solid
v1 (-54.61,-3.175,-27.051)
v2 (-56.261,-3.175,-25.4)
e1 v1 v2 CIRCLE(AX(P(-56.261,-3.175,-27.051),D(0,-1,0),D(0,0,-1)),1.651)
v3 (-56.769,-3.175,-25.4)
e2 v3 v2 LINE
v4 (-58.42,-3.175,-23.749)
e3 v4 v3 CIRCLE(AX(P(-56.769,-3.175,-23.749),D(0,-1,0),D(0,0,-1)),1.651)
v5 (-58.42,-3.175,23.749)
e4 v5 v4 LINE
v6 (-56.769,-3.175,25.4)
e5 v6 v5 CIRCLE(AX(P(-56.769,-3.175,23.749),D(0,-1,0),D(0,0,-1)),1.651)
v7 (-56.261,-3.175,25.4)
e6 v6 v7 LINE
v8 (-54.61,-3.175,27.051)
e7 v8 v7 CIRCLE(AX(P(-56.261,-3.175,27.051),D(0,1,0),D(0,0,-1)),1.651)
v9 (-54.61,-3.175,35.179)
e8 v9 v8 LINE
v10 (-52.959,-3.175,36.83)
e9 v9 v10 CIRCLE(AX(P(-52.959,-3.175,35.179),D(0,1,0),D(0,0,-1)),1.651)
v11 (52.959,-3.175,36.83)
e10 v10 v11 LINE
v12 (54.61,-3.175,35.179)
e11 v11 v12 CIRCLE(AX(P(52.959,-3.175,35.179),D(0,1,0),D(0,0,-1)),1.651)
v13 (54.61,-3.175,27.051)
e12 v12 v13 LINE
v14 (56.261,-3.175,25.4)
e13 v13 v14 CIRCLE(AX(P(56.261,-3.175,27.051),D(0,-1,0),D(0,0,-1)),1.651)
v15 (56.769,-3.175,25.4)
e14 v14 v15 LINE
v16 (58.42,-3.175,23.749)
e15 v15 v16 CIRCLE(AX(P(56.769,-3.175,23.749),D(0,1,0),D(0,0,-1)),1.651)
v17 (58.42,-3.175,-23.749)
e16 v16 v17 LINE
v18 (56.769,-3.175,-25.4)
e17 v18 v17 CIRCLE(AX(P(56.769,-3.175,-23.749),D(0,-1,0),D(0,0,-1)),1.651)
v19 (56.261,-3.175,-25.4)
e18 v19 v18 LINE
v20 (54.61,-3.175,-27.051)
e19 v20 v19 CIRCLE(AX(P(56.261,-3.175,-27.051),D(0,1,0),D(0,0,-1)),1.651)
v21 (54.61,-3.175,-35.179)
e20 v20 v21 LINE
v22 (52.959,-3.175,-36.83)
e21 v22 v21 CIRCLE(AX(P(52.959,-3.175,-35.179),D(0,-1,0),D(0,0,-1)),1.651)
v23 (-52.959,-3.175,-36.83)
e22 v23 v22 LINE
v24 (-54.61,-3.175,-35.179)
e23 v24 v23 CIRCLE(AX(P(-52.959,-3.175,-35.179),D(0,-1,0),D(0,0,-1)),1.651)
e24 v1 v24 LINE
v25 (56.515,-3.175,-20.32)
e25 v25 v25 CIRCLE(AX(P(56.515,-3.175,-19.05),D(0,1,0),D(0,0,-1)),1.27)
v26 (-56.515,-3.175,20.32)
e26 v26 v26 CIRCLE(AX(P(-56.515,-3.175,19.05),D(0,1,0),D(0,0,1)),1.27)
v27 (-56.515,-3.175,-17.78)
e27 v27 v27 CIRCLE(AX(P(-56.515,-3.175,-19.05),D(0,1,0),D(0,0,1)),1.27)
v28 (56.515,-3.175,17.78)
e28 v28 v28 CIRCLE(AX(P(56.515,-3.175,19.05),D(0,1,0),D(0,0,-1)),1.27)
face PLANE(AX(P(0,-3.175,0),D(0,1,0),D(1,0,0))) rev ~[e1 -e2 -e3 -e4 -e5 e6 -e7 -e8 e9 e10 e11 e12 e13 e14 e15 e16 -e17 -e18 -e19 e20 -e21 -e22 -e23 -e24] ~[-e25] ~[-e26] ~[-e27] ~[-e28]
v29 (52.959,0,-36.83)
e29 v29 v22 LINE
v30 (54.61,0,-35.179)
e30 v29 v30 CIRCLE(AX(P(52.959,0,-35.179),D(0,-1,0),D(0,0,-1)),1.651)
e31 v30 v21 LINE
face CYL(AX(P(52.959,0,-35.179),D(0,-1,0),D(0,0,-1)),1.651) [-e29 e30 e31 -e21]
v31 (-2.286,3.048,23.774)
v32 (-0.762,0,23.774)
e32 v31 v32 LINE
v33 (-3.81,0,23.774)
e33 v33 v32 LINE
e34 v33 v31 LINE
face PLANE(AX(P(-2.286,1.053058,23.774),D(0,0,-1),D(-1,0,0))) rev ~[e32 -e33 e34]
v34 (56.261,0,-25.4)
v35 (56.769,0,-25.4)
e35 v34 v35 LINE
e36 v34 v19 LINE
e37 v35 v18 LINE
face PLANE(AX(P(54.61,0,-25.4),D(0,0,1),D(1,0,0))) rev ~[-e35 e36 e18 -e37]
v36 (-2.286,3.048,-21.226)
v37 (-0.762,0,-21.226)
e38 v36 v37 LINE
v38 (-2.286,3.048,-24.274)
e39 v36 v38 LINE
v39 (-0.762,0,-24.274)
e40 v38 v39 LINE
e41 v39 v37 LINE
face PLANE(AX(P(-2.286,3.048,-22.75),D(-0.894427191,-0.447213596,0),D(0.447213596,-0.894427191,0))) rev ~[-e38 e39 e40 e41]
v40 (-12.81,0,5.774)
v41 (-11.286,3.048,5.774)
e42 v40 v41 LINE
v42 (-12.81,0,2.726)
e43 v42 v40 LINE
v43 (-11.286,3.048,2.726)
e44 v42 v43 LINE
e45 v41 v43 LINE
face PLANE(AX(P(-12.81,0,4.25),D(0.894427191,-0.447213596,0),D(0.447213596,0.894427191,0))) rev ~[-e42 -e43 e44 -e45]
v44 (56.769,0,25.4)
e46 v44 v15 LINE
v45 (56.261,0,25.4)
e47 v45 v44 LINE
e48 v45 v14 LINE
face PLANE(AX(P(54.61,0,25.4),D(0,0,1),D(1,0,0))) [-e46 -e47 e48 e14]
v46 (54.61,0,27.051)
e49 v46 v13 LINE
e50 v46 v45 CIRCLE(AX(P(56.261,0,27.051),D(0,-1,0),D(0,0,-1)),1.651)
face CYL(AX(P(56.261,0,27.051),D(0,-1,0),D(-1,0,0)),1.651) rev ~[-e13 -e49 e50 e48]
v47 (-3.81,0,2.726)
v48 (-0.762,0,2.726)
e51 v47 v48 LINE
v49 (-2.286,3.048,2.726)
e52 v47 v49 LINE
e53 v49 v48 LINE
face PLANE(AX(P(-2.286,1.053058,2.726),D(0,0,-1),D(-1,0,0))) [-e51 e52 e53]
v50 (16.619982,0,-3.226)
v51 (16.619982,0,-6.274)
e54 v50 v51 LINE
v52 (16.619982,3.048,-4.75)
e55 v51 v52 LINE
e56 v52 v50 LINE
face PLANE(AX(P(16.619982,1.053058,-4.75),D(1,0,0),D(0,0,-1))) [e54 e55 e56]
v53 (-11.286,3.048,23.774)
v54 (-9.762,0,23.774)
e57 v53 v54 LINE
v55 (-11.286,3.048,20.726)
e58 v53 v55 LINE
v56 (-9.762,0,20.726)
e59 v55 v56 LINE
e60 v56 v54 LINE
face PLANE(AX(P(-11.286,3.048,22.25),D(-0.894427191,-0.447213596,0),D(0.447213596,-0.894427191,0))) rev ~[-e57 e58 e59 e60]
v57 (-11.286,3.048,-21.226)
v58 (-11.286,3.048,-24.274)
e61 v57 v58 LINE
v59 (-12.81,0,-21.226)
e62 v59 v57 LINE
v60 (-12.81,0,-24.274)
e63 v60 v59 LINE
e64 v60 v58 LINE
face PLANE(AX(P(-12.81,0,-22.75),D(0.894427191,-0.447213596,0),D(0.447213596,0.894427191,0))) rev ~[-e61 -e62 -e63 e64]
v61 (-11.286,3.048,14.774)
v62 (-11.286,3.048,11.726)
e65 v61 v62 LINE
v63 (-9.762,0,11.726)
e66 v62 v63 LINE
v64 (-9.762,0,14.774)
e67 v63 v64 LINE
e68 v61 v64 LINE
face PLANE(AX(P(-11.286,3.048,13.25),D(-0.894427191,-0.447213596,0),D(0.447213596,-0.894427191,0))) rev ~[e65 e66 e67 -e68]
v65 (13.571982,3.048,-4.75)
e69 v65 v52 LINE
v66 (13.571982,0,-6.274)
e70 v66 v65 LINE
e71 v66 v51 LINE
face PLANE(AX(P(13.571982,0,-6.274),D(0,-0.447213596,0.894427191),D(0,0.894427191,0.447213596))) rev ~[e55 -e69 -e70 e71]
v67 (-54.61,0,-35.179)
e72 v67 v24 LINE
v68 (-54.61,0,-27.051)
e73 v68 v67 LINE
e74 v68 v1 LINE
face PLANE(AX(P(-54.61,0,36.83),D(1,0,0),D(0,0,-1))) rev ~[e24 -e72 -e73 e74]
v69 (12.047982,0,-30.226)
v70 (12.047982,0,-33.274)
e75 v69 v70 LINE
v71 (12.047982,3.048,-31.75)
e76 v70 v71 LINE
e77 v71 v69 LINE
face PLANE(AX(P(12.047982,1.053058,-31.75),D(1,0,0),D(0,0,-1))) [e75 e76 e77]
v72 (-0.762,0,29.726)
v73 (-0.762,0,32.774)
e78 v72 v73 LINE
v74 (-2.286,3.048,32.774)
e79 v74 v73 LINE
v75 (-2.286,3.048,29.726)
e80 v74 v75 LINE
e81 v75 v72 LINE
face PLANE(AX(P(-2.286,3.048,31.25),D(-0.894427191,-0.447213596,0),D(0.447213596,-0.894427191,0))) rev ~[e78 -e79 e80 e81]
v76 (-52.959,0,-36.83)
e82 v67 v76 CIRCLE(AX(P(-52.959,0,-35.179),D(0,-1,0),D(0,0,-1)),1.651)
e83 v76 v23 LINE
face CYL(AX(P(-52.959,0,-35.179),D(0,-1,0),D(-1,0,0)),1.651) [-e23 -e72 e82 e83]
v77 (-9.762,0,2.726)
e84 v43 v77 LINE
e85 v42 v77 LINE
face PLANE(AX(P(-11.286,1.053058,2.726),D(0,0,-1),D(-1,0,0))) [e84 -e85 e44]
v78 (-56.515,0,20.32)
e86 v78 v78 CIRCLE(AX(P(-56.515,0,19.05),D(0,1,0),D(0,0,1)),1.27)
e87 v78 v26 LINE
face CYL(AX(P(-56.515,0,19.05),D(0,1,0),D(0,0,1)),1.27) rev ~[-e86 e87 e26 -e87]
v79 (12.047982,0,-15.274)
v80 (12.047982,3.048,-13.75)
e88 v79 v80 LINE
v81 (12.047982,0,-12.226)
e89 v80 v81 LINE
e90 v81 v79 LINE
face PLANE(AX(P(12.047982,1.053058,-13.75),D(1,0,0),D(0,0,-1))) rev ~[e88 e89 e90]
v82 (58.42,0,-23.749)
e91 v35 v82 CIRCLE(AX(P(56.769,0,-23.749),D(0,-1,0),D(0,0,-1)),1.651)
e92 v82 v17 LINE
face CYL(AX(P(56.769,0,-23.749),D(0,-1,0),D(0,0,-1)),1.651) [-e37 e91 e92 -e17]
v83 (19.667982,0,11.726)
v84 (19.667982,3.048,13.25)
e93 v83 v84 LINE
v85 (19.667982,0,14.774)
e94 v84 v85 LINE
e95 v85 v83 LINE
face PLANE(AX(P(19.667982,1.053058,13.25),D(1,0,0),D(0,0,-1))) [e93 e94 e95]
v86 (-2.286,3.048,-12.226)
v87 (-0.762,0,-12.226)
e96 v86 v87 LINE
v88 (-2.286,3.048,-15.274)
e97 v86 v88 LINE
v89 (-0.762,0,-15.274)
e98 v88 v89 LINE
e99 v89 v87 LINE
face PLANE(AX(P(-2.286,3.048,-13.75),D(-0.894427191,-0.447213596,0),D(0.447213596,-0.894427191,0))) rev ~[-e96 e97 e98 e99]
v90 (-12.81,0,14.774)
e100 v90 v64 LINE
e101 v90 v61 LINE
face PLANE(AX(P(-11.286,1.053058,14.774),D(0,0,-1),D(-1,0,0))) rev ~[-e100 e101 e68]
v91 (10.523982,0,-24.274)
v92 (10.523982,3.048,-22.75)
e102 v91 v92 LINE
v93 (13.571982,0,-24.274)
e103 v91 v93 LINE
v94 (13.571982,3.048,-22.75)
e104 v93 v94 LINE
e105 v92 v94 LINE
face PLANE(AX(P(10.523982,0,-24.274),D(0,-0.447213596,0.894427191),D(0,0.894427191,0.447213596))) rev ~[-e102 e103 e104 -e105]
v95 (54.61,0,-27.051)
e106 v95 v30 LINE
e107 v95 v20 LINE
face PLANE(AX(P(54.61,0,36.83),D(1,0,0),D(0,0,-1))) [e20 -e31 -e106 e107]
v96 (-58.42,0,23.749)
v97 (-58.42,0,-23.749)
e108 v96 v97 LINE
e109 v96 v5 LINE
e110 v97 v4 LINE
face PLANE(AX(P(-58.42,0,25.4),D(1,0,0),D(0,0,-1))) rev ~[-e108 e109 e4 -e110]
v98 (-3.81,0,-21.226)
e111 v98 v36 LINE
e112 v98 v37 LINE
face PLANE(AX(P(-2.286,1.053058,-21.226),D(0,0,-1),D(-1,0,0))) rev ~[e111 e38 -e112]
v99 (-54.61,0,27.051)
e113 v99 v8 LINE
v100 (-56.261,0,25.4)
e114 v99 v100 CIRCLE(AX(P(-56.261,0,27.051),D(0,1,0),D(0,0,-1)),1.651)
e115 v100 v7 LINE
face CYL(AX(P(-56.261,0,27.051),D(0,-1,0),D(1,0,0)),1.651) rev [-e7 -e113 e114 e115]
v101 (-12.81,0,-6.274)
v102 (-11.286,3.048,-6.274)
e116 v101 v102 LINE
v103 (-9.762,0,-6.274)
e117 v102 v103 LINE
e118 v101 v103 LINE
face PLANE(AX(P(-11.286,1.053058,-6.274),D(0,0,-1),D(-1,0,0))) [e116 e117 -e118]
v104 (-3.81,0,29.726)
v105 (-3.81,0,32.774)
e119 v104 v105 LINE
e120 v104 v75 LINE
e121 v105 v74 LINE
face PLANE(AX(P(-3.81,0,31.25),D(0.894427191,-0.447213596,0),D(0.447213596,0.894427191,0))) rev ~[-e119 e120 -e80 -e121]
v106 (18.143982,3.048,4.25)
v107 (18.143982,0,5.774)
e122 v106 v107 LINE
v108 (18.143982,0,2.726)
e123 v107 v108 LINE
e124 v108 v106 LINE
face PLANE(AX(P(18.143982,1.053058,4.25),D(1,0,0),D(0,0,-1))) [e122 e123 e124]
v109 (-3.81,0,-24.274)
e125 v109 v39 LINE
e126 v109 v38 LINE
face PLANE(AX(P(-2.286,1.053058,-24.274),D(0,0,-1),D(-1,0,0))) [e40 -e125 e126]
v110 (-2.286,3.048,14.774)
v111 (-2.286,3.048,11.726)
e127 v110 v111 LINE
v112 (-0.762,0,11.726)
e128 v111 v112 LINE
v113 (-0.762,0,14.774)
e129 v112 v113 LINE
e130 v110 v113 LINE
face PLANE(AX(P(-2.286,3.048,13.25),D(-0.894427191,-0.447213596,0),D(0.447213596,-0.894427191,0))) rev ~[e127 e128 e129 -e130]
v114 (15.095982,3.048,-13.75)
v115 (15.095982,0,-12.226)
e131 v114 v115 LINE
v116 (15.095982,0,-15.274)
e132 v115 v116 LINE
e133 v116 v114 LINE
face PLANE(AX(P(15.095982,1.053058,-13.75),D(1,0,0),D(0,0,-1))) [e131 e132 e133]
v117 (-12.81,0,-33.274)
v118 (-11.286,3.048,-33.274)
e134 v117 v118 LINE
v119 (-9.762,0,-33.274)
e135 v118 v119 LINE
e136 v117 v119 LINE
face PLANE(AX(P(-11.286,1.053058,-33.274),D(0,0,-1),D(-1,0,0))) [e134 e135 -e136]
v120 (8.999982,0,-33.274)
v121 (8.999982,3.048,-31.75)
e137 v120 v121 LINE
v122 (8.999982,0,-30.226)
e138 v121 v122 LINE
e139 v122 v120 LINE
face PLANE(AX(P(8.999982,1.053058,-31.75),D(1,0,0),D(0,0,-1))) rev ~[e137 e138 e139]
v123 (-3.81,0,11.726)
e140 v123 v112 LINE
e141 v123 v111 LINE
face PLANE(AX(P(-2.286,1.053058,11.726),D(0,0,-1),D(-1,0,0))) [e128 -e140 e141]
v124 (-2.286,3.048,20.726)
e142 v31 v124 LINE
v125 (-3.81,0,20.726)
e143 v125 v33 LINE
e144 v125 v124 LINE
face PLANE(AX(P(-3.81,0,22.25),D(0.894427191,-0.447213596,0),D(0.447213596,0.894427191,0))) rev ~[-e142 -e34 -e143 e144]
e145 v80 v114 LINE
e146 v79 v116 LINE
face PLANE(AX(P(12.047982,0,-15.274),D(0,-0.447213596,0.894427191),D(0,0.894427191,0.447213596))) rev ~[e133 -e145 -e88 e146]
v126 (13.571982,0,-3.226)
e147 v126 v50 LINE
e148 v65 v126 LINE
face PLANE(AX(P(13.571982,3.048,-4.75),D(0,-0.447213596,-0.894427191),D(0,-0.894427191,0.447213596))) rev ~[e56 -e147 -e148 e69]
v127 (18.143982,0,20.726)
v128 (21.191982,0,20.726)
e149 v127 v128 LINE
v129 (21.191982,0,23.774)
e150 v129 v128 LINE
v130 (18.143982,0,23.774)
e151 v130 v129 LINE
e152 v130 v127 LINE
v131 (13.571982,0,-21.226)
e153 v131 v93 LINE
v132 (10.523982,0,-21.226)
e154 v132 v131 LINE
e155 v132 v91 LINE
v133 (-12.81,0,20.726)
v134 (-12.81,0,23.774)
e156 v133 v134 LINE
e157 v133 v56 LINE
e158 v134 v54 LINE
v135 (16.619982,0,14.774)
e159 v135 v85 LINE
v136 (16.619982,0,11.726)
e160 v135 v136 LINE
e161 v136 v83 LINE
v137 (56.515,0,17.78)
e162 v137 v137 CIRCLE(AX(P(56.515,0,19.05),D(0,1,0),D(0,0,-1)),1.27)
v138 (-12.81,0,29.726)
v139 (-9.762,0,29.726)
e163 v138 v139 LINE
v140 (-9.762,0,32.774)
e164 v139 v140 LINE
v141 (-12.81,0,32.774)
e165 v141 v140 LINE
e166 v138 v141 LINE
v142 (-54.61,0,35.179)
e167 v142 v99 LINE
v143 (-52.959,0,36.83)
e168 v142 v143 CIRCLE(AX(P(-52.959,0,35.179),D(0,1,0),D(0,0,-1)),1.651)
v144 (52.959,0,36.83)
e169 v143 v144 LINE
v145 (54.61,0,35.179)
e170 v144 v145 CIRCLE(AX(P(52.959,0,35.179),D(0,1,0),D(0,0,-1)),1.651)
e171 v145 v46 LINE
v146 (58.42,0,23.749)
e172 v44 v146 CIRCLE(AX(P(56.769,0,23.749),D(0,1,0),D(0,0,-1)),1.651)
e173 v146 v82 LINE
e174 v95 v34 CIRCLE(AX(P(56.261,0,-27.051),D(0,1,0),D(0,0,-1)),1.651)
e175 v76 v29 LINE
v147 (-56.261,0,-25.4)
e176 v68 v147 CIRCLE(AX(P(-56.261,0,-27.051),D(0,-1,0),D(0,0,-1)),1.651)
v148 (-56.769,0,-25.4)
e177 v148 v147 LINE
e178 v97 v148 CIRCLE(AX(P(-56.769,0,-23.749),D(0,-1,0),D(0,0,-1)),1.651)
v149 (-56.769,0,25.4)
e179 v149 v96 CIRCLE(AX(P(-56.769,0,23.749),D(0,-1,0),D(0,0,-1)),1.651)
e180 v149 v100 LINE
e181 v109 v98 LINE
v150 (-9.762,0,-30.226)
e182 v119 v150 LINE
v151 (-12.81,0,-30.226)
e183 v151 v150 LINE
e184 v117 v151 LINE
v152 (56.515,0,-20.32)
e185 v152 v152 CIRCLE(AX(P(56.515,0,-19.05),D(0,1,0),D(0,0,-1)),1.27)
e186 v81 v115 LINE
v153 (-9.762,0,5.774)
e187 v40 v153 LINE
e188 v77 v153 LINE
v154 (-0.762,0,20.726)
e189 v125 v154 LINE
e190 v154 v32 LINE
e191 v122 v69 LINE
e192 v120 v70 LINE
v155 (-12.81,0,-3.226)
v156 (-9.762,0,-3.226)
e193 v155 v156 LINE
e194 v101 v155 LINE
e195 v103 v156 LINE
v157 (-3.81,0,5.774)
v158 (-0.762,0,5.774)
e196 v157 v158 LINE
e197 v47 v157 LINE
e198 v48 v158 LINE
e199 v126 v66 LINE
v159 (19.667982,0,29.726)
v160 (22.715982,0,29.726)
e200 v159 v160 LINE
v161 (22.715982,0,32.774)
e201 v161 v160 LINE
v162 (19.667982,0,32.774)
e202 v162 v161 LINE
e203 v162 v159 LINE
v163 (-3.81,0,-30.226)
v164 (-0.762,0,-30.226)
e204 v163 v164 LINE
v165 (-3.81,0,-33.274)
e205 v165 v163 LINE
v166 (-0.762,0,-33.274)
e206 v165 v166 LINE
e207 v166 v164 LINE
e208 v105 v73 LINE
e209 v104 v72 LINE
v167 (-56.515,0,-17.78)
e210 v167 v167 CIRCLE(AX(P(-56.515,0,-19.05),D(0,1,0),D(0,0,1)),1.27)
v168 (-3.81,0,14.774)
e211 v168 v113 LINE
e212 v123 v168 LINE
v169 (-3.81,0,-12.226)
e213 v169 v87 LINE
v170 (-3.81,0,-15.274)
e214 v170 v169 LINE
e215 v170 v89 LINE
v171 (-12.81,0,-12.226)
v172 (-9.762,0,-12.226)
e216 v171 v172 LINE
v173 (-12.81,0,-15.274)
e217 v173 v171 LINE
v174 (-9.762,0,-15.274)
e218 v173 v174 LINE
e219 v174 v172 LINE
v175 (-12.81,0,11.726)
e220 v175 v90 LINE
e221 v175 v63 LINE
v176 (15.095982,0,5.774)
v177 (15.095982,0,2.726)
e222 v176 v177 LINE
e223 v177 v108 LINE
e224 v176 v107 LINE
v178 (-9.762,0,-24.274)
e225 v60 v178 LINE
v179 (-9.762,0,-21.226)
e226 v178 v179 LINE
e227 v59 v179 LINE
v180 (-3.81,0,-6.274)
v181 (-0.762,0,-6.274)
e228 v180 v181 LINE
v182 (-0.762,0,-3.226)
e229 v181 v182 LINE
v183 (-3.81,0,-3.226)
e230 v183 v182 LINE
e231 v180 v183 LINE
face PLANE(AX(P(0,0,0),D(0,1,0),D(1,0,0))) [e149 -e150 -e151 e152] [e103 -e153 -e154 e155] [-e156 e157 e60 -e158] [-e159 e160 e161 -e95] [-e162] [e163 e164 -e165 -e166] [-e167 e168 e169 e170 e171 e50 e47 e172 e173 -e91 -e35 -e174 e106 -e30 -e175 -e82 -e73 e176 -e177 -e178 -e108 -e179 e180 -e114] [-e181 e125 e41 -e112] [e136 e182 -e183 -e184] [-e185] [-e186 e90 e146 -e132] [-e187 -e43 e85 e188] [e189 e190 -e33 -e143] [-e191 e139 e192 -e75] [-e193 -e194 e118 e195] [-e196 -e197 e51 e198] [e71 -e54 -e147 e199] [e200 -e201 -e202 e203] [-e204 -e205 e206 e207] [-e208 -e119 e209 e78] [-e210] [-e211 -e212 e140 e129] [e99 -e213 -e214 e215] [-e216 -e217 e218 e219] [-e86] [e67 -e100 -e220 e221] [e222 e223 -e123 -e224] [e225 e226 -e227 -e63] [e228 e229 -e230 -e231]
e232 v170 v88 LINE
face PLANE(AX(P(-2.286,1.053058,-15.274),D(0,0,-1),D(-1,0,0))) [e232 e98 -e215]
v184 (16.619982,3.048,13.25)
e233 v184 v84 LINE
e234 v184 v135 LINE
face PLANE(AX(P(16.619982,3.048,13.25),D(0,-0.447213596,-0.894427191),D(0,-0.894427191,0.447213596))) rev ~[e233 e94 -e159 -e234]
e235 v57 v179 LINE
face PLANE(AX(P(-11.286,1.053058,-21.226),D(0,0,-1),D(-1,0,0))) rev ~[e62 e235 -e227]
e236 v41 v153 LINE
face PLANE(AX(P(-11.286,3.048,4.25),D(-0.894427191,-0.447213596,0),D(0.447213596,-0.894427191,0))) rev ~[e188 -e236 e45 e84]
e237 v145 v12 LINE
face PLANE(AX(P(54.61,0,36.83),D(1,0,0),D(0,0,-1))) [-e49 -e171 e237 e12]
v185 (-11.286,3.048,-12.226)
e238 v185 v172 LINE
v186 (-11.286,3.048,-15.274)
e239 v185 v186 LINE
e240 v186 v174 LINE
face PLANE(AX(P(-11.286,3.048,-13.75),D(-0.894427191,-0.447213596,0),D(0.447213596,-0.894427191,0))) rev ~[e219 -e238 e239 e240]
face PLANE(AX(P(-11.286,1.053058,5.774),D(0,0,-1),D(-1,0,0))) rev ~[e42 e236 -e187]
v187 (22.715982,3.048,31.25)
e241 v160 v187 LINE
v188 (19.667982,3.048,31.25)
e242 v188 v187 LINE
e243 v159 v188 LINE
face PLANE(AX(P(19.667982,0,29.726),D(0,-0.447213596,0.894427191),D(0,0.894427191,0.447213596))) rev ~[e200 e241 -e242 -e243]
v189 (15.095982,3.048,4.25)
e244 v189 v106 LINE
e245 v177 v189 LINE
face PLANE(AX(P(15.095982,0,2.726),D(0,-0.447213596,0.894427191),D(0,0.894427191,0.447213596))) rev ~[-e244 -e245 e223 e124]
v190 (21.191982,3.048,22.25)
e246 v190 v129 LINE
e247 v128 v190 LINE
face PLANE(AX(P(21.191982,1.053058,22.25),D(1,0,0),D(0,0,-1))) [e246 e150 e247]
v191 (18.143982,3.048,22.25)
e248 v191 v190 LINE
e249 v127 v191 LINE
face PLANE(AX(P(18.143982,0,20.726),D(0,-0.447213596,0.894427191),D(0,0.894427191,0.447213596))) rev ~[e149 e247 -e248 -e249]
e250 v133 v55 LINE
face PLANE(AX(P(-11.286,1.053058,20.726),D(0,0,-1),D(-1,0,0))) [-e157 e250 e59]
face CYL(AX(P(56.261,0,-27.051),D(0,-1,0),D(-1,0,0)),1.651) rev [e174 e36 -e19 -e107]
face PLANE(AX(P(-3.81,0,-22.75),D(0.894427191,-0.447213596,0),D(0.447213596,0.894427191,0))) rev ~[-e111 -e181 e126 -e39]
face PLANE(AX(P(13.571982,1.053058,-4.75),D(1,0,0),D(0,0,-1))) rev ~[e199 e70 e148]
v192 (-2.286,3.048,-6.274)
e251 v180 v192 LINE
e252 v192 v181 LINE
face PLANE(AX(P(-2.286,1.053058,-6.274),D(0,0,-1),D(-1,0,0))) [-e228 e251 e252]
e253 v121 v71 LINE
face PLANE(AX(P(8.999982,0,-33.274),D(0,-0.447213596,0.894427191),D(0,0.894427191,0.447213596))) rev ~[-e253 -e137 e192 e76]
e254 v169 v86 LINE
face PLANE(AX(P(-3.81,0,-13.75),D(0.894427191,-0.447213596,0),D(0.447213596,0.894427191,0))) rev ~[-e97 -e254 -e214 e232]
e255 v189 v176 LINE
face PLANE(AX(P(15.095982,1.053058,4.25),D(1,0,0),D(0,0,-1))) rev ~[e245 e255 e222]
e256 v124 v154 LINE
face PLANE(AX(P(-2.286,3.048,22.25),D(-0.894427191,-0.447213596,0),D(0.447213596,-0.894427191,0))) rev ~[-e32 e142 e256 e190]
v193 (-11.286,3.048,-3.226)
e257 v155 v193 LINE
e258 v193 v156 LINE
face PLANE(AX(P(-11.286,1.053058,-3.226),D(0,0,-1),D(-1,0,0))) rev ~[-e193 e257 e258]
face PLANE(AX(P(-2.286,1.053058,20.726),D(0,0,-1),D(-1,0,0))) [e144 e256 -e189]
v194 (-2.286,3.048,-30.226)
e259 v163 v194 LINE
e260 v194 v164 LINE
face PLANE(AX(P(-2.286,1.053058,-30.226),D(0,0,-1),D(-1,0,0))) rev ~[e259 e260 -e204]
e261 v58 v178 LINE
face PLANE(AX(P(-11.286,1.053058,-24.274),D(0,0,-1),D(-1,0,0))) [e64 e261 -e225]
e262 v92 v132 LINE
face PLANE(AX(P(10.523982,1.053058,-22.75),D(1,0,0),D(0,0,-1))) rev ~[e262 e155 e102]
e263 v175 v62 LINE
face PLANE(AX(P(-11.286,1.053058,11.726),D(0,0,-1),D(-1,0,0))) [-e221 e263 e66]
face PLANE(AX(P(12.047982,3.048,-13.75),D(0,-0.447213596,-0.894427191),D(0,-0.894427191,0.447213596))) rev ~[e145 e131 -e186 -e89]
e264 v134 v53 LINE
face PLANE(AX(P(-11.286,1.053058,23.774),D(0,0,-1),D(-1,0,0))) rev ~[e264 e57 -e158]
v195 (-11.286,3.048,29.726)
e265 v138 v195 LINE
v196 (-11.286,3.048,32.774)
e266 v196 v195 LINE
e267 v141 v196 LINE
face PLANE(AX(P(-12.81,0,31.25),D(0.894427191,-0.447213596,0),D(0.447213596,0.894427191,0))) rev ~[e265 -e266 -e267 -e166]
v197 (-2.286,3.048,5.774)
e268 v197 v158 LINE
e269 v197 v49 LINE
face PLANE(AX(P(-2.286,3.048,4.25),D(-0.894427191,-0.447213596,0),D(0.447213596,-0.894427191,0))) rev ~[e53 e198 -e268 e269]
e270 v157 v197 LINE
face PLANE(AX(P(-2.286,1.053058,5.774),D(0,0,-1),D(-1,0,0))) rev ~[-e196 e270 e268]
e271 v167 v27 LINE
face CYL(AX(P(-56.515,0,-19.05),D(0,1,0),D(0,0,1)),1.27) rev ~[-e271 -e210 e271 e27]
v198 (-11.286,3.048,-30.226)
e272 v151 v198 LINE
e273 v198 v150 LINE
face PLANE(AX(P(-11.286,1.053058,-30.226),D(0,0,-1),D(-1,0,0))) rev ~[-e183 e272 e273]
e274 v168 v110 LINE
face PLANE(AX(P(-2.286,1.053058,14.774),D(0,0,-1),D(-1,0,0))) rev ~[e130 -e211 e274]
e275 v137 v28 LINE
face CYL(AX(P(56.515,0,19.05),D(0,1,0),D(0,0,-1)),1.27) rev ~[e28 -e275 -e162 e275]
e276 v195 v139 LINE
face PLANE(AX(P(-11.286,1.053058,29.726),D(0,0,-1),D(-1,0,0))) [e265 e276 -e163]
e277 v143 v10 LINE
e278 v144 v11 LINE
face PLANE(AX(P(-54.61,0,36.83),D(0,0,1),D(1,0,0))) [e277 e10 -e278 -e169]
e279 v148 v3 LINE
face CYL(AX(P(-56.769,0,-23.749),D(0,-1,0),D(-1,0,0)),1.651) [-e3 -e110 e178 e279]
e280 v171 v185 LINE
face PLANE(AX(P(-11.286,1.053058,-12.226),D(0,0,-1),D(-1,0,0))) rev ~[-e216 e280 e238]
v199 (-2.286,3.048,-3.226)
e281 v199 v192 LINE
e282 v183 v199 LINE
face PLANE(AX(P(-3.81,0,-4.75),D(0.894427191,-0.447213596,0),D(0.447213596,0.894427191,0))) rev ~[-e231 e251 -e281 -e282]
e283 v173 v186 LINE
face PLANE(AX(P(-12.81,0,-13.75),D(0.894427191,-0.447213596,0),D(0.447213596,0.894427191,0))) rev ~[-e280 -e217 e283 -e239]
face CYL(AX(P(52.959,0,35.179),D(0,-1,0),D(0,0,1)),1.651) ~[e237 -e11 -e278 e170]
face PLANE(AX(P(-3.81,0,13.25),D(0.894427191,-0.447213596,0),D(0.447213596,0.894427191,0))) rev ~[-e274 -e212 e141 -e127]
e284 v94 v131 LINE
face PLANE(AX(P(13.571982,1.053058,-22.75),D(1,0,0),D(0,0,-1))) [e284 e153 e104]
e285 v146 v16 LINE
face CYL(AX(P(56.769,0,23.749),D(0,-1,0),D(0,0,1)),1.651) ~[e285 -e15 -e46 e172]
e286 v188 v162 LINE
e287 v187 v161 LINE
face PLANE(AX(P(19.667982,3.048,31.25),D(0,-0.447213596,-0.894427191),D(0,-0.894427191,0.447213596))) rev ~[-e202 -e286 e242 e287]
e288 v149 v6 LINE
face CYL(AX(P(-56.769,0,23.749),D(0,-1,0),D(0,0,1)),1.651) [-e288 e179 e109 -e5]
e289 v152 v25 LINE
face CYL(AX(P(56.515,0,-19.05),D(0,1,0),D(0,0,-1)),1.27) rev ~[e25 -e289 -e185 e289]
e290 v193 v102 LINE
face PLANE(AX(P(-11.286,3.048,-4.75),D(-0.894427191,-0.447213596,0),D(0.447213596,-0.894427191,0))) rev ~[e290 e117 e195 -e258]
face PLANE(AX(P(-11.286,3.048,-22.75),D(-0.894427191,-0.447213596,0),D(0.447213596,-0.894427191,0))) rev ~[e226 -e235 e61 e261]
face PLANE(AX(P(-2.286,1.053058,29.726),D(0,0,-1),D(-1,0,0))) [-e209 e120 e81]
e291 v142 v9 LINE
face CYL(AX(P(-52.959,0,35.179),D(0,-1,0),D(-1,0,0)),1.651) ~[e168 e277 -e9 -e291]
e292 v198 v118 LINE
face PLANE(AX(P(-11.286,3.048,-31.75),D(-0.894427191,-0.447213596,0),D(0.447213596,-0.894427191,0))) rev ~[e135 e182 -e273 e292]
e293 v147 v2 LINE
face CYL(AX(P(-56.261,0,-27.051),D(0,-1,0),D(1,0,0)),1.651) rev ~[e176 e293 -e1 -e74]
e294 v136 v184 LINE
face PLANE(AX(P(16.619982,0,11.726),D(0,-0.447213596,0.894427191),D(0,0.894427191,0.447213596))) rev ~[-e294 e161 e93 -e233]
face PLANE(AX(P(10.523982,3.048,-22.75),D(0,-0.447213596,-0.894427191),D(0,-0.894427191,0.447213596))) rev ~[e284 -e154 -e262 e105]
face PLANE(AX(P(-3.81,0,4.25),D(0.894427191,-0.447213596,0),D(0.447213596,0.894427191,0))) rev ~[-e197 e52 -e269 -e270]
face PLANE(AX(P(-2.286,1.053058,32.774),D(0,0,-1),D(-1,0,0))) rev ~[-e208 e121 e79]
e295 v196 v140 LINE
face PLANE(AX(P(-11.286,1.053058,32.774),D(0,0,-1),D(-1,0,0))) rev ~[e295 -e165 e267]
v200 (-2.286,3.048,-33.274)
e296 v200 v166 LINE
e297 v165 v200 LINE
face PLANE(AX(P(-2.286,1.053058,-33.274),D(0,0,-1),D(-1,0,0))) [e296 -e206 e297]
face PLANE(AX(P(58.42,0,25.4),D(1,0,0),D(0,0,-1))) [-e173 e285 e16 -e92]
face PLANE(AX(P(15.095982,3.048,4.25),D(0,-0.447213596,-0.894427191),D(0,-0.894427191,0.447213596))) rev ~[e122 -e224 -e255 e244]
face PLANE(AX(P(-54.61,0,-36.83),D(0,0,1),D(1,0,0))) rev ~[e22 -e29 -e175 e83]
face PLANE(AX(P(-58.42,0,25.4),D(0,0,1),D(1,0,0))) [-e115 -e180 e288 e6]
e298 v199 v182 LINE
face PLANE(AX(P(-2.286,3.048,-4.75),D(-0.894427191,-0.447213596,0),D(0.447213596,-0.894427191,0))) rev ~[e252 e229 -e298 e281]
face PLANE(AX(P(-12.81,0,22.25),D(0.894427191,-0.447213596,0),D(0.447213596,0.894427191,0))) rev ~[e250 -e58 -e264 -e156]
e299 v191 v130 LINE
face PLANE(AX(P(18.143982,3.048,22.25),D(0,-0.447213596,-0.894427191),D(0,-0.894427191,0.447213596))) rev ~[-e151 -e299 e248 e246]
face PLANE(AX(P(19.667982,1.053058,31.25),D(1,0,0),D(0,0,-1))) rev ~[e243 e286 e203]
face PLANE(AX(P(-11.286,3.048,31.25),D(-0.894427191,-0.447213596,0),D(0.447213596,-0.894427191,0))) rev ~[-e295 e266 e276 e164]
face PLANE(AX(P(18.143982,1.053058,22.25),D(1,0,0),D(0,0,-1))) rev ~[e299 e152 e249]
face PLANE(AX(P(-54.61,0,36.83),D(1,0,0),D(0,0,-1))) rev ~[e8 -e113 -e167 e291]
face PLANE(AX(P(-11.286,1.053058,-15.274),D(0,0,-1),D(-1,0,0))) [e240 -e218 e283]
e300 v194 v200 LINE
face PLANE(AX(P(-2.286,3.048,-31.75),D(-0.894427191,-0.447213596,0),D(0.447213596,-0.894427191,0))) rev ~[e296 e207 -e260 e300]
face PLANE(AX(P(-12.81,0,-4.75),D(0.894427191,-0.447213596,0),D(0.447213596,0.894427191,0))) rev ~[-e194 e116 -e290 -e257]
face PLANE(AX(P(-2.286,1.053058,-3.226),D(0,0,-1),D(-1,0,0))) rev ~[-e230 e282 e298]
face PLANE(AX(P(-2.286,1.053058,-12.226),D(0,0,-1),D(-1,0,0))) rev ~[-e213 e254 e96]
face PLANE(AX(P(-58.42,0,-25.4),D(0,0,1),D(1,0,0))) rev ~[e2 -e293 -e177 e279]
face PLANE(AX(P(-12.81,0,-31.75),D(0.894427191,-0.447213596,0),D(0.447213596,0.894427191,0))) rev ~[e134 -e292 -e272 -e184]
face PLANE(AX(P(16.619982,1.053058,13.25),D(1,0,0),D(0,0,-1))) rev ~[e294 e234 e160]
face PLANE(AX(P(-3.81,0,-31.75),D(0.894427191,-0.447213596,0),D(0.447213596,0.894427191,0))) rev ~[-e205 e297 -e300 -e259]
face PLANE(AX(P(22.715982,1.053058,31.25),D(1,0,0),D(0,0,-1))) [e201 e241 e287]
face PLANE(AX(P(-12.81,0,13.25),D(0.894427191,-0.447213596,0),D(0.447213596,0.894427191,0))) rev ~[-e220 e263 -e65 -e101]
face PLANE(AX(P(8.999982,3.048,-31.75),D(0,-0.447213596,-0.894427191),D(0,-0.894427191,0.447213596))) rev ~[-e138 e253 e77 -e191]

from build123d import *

# Parameters (mm, degrees)
SKETCH1_W            = 109.22
SKETCH1_H            = 73.66
BOSS_EXTRUDE1_DEPTH  = 3.175
BOSS_EXTRUDE3_DEPTH  = 1.524
LPATTERN1_COUNT      = 2
LPATTERN1_PITCH      = 9.000000034
LPATTERN1_COUNT_DIR2 = 8
LPATTERN1_PITCH_DIR2 = 9.000000034
SKETCH3_W            = 3.81
SKETCH3_H            = 50.8
SKETCH3_R            = 1.27
BOSS_EXTRUDE2_DEPTH  = 3.175
FILLET1_R            = 1.651
BOSS_EXTRUDE4_START  = 8.999982
BOSS_EXTRUDE4_DEPTH  = 3.048
BOSS_EXTRUDE5_START  = 10.523982
BOSS_EXTRUDE5_DEPTH  = 3.048
BOSS_EXTRUDE6_START  = 12.047982
BOSS_EXTRUDE6_DEPTH  = 3.048
BOSS_EXTRUDE7_START  = 13.571982
BOSS_EXTRUDE7_DEPTH  = 3.048
BOSS_EXTRUDE8_START  = 15.095982
BOSS_EXTRUDE8_DEPTH  = 3.048
BOSS_EXTRUDE9_START  = 16.619982
BOSS_EXTRUDE9_DEPTH  = 3.048
BOSS_EXTRUDE10_START = 18.143982
BOSS_EXTRUDE10_DEPTH = 3.048
BOSS_EXTRUDE11_START = 19.667982
BOSS_EXTRUDE11_DEPTH = 3.048


with BuildPart() as part:
    # Sketch1 → Boss-Extrude1 (new body)
    with BuildSketch(Plane(origin=(0, 0, 0), x_dir=(1, 0, 0), z_dir=(0, 1, 0))):
        Rectangle(SKETCH1_W, SKETCH1_H)
    extrude(amount=-BOSS_EXTRUDE1_DEPTH)

    # Sketch2 → Boss-Extrude3 (add, symmetric)
    with BuildSketch(Plane.XY.offset(-31.75)):
        Polygon((-12.810000034, 0), (-11.286000034, 3.048), (-9.762000034, 0), (-11.286000034, 0), align=None)
    boss_extrude3 = extrude(amount=BOSS_EXTRUDE3_DEPTH, both=True)

    # LPattern1: Boss-Extrude3 2 × 8
    with Locations(*[(i * LPATTERN1_PITCH, 0, j * LPATTERN1_PITCH_DIR2) for i in range(LPATTERN1_COUNT) for j in range(LPATTERN1_COUNT_DIR2) if (i, j) != (0, 0)]):
        add(boss_extrude3)

    # Sketch3 → Boss-Extrude2 (add)
    # profile 1 of 2: a face of its own
    with BuildSketch(Plane(origin=(0, 0, 0), x_dir=(1, 0, 0), z_dir=(0, 1, 0))):
        with Locations((-56.515, 0)):
            Rectangle(SKETCH3_W, SKETCH3_H)
        with Locations(Location((-56.515, 19.05, 0), (0, 0, 270))):
            Circle(SKETCH3_R, mode=Mode.SUBTRACT)
        with Locations(Location((-56.515, -19.05, 0), (0, 0, 270))):
            Circle(SKETCH3_R, mode=Mode.SUBTRACT)
    # profile 2 of 2: a face of its own
    with BuildSketch(Plane(origin=(0, 0, 0), x_dir=(1, 0, 0), z_dir=(0, 1, 0))):
        with Locations((56.515, 0)):
            Rectangle(SKETCH3_W, SKETCH3_H)
        with Locations(Location((56.515, -19.05, 0), (0, 0, 90))):
            Circle(SKETCH3_R, mode=Mode.SUBTRACT)
        with Locations(Location((56.515, 19.05, 0), (0, 0, 90))):
            Circle(SKETCH3_R, mode=Mode.SUBTRACT)
    extrude(amount=-BOSS_EXTRUDE2_DEPTH)

    # Fillet1
    fillet1_edges = [part.edges().sort_by_distance(p)[0] for p in [
        (-54.61, -1.5875, -25.4),
        (-54.61, -1.5875, 25.4),
        (-58.42, -1.5875, 25.4),
        (-58.42, -1.5875, -25.4),
        (54.61, -1.5875, -25.4),
        (58.42, -1.5875, -25.4),
        (58.42, -1.5875, 25.4),
        (54.61, -1.5875, 25.4),
        (54.61, -1.5875, 36.83),
        (-54.61, -1.5875, 36.83),
        (-54.61, -1.5875, -36.83),
        (54.61, -1.5875, -36.83),
    ]]
    fillet(fillet1_edges, radius=FILLET1_R)

    # Sketch4 → Boss-Extrude4 (add)
    with BuildSketch(Plane(origin=(0, 0, 0), x_dir=(0, 0, -1), z_dir=(1, 0, 0)).offset(BOSS_EXTRUDE4_START)):
        Polygon((30.226, 0), (33.274, 0), (31.75, 3.048), align=None)
    extrude(amount=BOSS_EXTRUDE4_DEPTH)

    # Sketch5 → Boss-Extrude5 (add)
    with BuildSketch(Plane(origin=(0, 0, 0), x_dir=(0, 0, -1), z_dir=(1, 0, 0)).offset(BOSS_EXTRUDE5_START)):
        Polygon((21.225999966, 0), (24.273999966, 0), (22.749999966, 3.048), align=None)
    extrude(amount=BOSS_EXTRUDE5_DEPTH)

    # Sketch6 → Boss-Extrude6 (add)
    with BuildSketch(Plane(origin=(0, 0, 0), x_dir=(0, 0, -1), z_dir=(1, 0, 0)).offset(BOSS_EXTRUDE6_START)):
        Polygon((12.225999932, 0), (15.273999932, 0), (13.749999932, 3.048), align=None)
    extrude(amount=BOSS_EXTRUDE6_DEPTH)

    # Sketch7 → Boss-Extrude7 (add)
    with BuildSketch(Plane(origin=(0, 0, 0), x_dir=(0, 0, -1), z_dir=(1, 0, 0)).offset(BOSS_EXTRUDE7_START)):
        Polygon((3.225999898, 0), (6.273999898, 0), (4.749999898, 3.048), align=None)
    extrude(amount=BOSS_EXTRUDE7_DEPTH)

    # Sketch8 → Boss-Extrude8 (add)
    with BuildSketch(Plane(origin=(0, 0, 0), x_dir=(0, 0, -1), z_dir=(1, 0, 0)).offset(BOSS_EXTRUDE8_START)):
        Polygon((-5.774000136, 0), (-2.726000136, 0), (-4.250000136, 3.048), align=None)
    extrude(amount=BOSS_EXTRUDE8_DEPTH)

    # Sketch9 → Boss-Extrude9 (add)
    with BuildSketch(Plane(origin=(0, 0, 0), x_dir=(0, 0, -1), z_dir=(1, 0, 0)).offset(BOSS_EXTRUDE9_START)):
        Polygon((-14.77400017, 0), (-11.72600017, 0), (-13.25000017, 3.048), align=None)
    extrude(amount=BOSS_EXTRUDE9_DEPTH)

    # Sketch10 → Boss-Extrude10 (add)
    with BuildSketch(Plane(origin=(0, 0, 0), x_dir=(0, 0, -1), z_dir=(1, 0, 0)).offset(BOSS_EXTRUDE10_START)):
        Polygon((-23.774000204, 0), (-20.726000204, 0), (-22.250000204, 3.048), align=None)
    extrude(amount=BOSS_EXTRUDE10_DEPTH)

    # Sketch11 → Boss-Extrude11 (add)
    with BuildSketch(Plane(origin=(0, 0, 0), x_dir=(0, 0, -1), z_dir=(1, 0, 0)).offset(BOSS_EXTRUDE11_START)):
        Polygon((-32.774000238, 0), (-29.726000238, 0), (-31.250000238, 3.048), align=None)
    extrude(amount=BOSS_EXTRUDE11_DEPTH)


solid = part.part
